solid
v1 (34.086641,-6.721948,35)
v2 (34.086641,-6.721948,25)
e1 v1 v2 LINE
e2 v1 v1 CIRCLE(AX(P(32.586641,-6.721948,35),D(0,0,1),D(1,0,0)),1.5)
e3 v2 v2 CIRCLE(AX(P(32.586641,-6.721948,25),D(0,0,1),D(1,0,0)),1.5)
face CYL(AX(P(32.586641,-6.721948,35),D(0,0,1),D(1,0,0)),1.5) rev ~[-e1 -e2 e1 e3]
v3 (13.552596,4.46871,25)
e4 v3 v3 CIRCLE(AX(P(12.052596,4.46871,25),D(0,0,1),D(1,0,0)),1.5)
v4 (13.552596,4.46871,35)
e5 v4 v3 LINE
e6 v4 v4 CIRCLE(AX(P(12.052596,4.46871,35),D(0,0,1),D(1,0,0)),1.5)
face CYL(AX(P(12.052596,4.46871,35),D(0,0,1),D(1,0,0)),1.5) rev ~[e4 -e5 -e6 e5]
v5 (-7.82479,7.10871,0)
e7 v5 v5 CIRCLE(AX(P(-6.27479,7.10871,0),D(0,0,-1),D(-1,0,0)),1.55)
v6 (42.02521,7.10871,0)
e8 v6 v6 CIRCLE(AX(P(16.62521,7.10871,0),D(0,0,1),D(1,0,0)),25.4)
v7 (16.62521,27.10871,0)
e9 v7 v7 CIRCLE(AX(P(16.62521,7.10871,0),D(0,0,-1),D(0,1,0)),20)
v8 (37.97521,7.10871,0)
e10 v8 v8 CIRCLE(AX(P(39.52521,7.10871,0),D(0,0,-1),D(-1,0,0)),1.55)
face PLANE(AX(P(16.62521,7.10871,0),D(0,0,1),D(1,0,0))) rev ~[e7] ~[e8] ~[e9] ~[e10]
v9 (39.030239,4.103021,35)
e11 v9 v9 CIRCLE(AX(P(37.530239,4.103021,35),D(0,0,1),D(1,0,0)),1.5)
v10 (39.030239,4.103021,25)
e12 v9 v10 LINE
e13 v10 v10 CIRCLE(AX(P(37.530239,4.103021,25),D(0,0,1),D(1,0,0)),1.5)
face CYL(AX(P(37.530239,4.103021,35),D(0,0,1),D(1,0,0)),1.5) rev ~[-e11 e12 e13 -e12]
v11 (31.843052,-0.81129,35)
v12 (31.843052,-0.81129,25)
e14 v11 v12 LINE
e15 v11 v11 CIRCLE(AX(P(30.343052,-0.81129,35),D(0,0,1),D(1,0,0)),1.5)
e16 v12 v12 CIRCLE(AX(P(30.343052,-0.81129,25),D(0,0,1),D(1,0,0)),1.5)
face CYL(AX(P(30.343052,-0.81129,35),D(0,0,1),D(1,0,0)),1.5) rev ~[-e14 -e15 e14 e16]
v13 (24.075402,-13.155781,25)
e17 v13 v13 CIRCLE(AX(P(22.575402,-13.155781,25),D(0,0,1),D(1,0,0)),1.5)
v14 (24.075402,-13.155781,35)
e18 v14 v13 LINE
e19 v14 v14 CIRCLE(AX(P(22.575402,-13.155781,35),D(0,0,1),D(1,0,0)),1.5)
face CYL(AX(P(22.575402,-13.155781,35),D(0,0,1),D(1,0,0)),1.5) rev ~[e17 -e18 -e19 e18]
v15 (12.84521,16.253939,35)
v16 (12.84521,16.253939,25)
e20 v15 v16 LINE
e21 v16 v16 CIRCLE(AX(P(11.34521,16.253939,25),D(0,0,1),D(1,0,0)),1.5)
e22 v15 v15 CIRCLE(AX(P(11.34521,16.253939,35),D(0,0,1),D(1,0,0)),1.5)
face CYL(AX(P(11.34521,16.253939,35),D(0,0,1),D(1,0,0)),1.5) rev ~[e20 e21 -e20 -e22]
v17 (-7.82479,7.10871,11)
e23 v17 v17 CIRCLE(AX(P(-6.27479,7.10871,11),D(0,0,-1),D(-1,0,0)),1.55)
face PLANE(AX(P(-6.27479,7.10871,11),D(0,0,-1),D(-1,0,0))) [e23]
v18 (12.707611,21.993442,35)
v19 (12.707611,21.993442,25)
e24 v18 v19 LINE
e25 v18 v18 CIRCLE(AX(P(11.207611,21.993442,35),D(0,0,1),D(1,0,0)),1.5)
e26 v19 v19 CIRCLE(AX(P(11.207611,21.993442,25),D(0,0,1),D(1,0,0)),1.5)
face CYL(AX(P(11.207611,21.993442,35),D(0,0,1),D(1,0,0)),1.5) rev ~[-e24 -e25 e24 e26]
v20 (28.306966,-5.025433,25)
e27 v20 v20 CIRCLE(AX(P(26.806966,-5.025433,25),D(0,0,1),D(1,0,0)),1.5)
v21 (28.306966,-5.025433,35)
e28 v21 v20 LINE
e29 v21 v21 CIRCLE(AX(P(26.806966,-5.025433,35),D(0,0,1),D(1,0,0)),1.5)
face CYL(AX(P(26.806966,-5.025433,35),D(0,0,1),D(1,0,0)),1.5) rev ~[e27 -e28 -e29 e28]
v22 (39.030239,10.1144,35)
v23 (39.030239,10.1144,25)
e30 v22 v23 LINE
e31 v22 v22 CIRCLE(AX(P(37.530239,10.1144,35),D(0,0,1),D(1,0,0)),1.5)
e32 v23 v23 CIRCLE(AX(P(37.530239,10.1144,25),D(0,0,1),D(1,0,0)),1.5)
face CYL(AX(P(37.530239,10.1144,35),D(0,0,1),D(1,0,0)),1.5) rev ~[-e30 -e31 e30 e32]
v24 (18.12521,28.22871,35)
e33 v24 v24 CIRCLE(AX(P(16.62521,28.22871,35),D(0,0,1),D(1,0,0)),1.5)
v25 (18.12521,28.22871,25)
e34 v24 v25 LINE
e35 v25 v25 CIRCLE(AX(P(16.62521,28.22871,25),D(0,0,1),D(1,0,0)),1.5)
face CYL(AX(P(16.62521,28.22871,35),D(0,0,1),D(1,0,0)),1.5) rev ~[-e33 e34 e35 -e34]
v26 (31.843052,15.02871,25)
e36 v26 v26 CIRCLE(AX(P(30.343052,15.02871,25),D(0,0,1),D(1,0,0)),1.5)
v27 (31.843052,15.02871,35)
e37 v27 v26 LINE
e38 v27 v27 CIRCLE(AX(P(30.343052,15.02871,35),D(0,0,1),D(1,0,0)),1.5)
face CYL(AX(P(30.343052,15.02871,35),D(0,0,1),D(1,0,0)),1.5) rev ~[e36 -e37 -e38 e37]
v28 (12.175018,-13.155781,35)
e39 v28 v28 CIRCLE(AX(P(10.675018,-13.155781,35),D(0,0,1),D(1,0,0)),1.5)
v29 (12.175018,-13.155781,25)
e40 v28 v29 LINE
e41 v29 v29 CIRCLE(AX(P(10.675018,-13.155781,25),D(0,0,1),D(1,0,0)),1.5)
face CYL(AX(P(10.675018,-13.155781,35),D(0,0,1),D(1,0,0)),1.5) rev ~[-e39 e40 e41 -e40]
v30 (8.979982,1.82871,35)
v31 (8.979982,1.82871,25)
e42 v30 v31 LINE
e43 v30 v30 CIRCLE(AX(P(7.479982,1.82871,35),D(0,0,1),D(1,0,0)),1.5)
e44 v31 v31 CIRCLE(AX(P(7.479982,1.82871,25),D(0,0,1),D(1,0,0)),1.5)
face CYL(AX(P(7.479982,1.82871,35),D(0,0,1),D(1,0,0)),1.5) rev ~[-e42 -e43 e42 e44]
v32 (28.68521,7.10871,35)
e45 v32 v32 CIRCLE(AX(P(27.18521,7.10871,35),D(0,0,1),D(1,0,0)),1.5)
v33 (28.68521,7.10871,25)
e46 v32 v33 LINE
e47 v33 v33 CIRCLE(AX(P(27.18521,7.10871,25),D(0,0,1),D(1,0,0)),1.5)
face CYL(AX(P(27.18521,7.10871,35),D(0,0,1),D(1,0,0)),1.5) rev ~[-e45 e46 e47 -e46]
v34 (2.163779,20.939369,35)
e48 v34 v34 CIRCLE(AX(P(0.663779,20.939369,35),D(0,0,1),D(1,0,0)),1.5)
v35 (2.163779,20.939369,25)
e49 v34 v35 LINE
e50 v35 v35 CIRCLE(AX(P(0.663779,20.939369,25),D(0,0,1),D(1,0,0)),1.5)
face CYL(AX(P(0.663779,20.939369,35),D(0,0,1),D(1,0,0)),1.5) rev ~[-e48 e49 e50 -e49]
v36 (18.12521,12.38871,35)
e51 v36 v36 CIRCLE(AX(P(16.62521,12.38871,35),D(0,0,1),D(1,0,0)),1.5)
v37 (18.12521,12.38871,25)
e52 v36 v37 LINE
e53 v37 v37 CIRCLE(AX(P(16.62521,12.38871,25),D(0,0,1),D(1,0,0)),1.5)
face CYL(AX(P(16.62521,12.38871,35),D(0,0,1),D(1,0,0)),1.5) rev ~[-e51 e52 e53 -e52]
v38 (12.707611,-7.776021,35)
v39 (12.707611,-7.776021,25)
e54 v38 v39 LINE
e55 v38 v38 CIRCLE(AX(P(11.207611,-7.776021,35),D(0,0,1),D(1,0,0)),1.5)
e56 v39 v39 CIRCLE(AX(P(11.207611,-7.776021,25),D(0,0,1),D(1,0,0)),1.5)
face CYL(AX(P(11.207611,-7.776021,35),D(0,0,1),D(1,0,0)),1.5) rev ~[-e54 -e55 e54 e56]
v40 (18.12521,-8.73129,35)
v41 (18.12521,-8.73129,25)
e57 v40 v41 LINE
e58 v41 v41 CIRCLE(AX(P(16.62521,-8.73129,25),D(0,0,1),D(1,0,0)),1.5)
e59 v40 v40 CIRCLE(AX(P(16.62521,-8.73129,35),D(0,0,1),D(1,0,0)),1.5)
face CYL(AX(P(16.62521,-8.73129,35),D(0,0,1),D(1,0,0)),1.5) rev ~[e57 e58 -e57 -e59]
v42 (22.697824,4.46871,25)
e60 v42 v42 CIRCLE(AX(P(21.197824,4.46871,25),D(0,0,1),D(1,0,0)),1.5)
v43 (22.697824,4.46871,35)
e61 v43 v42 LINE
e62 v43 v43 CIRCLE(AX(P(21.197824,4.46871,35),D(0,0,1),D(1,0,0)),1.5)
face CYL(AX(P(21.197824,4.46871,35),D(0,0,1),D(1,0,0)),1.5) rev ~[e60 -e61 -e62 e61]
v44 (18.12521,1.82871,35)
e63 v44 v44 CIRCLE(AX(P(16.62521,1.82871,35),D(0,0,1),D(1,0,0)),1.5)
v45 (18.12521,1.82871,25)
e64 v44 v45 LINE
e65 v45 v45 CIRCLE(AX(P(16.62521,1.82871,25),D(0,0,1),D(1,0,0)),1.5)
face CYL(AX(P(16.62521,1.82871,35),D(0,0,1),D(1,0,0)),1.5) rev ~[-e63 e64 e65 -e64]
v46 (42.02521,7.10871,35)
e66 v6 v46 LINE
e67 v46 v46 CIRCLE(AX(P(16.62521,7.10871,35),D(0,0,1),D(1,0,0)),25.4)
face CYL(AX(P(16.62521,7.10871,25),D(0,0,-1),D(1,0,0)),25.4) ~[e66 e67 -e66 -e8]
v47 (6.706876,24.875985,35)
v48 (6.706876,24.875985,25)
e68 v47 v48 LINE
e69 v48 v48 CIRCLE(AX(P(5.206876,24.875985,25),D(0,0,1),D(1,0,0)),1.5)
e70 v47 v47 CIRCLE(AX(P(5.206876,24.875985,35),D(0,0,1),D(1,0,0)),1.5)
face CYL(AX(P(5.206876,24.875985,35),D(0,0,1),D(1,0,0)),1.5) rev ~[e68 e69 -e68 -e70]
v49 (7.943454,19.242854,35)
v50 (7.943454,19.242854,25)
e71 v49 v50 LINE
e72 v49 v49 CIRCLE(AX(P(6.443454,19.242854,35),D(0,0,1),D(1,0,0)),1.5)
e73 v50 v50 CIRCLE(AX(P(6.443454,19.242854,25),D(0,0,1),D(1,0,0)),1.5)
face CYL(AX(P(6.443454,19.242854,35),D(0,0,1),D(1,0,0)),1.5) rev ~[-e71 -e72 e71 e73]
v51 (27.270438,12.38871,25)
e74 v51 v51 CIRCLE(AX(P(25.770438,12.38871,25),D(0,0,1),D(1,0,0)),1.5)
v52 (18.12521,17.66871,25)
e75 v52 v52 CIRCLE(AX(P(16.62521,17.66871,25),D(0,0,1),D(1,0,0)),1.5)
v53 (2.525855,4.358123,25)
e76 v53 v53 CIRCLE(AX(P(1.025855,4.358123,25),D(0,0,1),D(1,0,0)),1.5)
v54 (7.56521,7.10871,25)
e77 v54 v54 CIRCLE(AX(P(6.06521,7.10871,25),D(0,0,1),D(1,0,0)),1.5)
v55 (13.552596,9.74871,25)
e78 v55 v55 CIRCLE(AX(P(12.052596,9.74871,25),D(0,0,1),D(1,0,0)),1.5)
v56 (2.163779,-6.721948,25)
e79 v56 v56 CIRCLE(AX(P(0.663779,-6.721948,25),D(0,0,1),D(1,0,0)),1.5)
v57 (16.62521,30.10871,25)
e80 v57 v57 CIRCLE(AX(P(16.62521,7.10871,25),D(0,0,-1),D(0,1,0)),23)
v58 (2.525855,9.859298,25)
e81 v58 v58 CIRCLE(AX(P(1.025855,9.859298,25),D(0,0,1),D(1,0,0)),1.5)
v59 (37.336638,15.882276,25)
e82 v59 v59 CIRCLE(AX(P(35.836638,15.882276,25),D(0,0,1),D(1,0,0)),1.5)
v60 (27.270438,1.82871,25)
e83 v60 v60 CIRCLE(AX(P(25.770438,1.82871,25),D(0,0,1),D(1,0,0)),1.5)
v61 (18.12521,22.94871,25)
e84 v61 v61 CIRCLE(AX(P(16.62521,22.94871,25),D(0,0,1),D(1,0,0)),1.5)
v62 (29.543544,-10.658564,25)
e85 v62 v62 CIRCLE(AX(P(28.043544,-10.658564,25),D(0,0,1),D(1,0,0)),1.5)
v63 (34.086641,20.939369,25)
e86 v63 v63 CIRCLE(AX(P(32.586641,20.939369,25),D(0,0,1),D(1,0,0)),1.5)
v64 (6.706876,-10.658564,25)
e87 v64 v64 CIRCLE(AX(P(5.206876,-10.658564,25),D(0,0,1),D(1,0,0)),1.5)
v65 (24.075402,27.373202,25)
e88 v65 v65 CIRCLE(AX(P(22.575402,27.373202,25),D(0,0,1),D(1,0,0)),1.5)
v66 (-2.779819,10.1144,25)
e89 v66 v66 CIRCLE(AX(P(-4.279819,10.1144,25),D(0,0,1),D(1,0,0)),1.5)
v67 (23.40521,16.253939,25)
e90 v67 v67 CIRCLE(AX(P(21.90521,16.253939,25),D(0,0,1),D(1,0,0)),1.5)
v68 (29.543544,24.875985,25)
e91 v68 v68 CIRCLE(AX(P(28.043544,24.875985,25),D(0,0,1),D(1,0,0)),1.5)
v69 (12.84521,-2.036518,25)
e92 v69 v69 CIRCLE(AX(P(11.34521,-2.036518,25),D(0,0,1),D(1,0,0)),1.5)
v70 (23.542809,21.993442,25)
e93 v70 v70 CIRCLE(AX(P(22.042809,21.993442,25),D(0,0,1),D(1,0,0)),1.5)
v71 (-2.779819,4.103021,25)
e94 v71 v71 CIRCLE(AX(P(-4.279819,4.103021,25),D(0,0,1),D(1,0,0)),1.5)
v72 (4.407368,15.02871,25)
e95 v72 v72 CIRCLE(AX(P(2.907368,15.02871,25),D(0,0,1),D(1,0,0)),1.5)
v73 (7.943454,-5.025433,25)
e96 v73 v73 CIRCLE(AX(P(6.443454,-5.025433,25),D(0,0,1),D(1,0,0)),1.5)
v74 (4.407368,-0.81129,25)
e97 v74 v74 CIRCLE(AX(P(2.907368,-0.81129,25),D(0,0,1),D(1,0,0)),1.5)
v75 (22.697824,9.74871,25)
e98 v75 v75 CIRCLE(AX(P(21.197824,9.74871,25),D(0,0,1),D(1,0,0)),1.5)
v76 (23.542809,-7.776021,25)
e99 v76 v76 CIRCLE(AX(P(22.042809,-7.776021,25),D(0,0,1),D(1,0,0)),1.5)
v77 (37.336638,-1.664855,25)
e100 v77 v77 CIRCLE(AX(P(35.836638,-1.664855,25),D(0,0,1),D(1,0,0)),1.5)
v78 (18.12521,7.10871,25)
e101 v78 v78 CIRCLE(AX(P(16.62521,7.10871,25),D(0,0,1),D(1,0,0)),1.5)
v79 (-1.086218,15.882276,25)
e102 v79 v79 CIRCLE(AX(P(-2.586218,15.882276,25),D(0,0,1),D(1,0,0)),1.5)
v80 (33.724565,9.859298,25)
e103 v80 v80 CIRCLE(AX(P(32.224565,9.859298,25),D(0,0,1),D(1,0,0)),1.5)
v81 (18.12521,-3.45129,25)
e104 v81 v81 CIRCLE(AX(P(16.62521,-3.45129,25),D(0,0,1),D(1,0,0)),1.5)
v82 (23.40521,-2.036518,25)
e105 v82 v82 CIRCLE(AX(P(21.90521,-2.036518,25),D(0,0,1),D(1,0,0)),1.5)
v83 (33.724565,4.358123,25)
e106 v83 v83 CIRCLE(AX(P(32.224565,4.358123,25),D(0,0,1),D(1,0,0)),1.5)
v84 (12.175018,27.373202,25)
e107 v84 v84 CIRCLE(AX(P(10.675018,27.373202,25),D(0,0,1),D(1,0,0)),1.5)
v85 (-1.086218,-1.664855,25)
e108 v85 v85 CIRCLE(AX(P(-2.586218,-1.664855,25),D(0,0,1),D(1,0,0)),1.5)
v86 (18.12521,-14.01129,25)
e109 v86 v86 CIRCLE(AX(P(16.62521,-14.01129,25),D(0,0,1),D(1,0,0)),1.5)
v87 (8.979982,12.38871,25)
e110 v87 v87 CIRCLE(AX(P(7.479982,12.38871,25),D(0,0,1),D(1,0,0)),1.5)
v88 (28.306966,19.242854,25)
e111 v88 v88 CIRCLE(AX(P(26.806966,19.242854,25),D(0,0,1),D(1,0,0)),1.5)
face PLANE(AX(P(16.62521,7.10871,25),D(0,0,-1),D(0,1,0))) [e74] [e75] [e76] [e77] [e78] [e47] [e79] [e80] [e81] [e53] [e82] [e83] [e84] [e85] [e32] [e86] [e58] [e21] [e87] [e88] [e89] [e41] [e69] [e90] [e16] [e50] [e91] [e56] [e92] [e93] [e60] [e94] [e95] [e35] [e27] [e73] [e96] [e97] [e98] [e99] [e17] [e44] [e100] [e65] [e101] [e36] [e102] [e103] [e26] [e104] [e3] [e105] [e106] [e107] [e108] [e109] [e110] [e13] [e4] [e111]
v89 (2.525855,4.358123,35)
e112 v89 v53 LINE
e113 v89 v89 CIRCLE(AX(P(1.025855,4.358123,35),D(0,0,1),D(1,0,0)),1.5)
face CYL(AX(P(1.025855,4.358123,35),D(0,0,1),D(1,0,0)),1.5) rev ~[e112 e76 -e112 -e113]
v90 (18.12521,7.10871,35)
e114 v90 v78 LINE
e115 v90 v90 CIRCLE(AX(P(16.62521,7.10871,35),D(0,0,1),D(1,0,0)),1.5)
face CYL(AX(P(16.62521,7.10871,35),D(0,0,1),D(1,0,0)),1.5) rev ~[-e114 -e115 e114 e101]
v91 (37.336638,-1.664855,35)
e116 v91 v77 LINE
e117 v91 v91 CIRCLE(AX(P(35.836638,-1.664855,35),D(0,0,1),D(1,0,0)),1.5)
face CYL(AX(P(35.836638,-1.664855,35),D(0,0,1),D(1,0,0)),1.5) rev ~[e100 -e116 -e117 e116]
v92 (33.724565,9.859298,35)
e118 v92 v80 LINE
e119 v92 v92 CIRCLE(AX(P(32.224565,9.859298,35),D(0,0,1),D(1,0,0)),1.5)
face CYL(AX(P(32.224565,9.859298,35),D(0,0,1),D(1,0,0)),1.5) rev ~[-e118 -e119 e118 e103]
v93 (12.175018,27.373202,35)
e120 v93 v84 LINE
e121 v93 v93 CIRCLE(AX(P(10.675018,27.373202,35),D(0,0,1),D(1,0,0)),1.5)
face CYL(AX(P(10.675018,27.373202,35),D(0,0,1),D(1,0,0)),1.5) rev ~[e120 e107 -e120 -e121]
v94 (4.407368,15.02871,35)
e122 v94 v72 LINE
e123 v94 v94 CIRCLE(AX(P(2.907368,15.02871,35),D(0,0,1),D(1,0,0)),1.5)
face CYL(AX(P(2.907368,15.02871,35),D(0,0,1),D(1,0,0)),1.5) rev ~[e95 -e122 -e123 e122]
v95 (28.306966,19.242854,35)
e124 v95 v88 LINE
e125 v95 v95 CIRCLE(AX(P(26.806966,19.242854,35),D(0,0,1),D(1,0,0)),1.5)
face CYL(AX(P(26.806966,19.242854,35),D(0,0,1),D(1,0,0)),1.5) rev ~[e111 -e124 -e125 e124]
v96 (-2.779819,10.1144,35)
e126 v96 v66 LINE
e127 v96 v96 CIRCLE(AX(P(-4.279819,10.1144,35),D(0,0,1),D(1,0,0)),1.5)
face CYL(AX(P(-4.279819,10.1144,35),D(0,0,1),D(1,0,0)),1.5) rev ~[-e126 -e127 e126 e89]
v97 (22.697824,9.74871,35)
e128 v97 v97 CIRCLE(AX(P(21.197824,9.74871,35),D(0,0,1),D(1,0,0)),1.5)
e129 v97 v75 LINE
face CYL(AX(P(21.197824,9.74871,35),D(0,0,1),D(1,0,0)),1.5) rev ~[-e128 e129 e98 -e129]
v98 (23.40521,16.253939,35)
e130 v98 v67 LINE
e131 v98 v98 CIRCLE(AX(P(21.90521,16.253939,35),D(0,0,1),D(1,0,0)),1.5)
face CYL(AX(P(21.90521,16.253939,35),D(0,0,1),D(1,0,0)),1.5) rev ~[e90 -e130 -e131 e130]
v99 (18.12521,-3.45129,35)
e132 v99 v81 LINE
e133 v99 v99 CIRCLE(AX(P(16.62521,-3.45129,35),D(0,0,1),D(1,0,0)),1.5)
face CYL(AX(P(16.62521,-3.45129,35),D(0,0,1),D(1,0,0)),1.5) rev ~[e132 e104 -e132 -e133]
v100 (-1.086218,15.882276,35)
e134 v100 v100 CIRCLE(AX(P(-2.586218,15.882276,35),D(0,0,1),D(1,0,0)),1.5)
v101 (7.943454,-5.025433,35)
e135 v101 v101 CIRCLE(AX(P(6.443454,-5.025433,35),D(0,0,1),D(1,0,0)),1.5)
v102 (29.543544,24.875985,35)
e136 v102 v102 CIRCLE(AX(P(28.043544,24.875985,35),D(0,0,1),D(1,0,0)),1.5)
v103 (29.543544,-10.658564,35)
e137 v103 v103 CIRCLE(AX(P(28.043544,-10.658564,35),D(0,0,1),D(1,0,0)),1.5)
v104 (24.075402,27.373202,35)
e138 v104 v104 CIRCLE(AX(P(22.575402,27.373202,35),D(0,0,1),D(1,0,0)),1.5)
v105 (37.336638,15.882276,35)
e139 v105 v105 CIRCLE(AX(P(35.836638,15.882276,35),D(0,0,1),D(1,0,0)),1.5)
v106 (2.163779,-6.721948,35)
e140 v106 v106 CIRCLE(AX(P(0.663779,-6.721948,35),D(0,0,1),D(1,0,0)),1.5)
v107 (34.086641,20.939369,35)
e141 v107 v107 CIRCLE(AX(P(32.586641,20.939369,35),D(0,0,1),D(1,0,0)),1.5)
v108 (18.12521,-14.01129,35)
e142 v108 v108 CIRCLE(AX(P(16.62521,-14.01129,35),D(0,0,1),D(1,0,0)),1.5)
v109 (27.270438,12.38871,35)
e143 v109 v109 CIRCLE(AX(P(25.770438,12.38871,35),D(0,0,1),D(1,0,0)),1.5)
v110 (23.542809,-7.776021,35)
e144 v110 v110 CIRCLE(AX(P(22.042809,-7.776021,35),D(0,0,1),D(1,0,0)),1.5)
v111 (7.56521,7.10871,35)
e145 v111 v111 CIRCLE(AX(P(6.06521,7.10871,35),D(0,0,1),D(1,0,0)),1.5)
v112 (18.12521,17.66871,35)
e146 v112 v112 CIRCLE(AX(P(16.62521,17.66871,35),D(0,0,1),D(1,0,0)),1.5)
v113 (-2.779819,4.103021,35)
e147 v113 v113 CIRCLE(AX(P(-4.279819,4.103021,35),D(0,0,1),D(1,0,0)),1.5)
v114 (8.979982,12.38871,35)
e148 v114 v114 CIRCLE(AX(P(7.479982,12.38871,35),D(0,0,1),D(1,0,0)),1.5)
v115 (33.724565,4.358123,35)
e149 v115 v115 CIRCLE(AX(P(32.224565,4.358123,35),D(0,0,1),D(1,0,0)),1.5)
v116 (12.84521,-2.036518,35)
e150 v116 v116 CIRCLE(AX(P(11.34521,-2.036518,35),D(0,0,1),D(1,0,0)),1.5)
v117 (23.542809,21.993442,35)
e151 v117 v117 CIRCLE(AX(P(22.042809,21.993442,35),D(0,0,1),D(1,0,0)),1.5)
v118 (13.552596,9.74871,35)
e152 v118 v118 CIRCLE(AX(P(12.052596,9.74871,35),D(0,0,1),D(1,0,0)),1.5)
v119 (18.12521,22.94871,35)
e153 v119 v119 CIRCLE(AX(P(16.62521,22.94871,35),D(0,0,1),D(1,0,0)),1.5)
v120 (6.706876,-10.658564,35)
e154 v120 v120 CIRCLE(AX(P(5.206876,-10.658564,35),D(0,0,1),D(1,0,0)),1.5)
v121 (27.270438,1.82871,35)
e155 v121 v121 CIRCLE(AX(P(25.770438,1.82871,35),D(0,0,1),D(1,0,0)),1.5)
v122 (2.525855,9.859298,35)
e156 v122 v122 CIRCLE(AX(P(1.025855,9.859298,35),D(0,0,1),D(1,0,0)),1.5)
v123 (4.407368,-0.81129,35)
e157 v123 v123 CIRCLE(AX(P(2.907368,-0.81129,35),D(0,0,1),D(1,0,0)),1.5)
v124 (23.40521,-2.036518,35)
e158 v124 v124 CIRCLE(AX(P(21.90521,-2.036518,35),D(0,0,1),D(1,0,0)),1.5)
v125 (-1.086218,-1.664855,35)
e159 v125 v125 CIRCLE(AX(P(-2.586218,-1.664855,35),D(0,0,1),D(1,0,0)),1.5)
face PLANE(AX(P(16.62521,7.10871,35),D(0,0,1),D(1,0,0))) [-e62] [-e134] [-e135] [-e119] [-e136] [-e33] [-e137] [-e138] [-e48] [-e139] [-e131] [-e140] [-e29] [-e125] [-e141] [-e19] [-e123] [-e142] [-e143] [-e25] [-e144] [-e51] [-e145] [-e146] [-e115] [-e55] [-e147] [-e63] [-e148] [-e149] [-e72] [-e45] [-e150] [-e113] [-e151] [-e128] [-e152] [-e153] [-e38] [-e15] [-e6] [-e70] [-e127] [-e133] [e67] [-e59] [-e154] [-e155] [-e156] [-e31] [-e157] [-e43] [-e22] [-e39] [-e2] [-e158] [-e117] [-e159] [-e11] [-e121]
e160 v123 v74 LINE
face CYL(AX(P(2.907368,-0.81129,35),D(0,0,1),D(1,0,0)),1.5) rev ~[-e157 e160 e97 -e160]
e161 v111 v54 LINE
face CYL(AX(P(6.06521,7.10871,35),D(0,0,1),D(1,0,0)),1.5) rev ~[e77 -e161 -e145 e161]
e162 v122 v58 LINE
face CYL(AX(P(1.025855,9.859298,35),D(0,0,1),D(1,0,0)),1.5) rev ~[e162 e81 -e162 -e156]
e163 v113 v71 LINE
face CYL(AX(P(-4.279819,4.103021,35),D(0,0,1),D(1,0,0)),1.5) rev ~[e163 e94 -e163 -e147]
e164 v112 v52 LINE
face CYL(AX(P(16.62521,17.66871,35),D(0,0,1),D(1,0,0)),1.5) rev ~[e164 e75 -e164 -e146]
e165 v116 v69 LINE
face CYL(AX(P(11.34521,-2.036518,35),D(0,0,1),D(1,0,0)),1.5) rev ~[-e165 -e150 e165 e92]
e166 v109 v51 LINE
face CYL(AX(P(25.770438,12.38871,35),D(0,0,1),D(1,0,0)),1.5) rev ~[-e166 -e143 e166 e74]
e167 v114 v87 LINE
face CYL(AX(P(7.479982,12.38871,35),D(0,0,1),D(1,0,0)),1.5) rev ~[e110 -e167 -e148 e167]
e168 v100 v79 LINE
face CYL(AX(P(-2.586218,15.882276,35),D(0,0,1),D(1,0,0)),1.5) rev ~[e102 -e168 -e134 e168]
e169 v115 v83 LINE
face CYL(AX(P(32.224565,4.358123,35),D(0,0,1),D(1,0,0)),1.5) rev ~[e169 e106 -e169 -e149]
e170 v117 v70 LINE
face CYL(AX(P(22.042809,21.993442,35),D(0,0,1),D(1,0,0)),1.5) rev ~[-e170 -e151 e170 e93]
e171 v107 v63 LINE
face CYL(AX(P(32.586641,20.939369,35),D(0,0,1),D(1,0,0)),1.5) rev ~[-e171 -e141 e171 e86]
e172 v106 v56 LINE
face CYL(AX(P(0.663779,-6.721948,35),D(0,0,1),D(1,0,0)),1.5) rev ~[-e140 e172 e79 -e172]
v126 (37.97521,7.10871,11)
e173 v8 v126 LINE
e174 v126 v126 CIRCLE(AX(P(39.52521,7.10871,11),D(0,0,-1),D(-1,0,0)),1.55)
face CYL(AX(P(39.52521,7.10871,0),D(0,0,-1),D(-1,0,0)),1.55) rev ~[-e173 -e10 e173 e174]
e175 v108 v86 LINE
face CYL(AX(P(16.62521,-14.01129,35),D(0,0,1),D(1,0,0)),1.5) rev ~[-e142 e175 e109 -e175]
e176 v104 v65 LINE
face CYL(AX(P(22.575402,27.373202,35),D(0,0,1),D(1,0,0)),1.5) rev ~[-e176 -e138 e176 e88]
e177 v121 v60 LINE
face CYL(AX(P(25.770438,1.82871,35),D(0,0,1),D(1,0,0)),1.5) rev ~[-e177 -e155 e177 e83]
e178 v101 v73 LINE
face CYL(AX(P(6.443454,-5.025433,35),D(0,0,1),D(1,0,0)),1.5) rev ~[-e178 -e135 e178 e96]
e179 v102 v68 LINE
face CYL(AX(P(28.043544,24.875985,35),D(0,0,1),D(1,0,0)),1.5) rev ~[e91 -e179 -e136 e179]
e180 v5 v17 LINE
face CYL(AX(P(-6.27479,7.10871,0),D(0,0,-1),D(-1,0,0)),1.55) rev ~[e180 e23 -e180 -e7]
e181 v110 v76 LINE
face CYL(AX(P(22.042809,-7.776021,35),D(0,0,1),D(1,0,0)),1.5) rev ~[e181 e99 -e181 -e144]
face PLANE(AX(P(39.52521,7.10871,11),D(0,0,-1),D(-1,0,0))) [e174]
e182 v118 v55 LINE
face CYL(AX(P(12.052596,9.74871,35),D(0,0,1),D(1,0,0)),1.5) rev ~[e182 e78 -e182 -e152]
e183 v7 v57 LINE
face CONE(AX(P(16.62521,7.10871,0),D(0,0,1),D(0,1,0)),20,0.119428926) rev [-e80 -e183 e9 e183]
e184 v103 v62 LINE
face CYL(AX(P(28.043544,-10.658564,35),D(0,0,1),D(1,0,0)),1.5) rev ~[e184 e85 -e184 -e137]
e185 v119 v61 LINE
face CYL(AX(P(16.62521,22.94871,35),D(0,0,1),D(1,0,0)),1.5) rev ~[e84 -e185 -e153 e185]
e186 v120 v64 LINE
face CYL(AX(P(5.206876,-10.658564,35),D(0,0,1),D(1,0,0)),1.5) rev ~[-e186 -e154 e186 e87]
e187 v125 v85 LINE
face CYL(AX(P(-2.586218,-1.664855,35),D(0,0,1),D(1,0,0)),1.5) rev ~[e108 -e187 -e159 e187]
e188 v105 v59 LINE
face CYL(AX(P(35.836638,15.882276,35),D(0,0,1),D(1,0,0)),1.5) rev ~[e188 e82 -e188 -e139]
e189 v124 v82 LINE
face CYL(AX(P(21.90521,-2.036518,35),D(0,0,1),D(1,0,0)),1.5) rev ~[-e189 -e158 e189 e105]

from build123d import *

# Parameters (mm, degrees)
ESQUISSE1_R             = 25.4
BOSS_EXTRU_1_DEPTH      = 25
ESQUISSE6_R             = 1.55
ENL_V_MAT_EXTRU_4_DEPTH = 11
ESQUISSE8_R             = 25.4
BOSS_EXTRU_3_DEPTH      = 10
ESQUISSE9_R             = 1.5
ENL_V_MAT_EXTRU_5_DEPTH = 10


with BuildPart() as part:
    # Esquisse1 → Boss.-Extru.1 (new body)
    with BuildSketch(Plane.XY):
        with Locations((16.625210007, 7.108710486)):
            Circle(ESQUISSE1_R)
    extrude(amount=BOSS_EXTRU_1_DEPTH)

    # Esquisse6 → Enlèv. mat.-Extru.4 (cut)
    with BuildSketch(Plane(origin=(0, 0, 0), x_dir=(-1, 0, 0), z_dir=(0, 0, -1))):
        with Locations((-39.525210007, 7.108710486)):
            Circle(ESQUISSE6_R)
        with Locations((6.274789993, 7.108710486)):
            Circle(ESQUISSE6_R)
    extrude(amount=-ENL_V_MAT_EXTRU_4_DEPTH, mode=Mode.SUBTRACT)

    # Esquisse8 → Boss.-Extru.3 (add)
    with BuildSketch(Plane.XY.offset(25)):
        with Locations((16.625210007, 7.108710486)):
            Circle(ESQUISSE8_R)
    extrude(amount=BOSS_EXTRU_3_DEPTH)

    # Esquisse9 → Enlèv. mat.-Extru.5 (cut)
    with BuildSketch(Plane.XY.offset(35)):
        with Locations((16.625210007, 7.108710486)):
            Circle(ESQUISSE9_R)
        with Locations((16.625210007, 12.388710486)):
            Circle(ESQUISSE9_R)
        with Locations((21.197824139, 9.748710486)):
            Circle(ESQUISSE9_R)
        with Locations((21.197824139, 4.468710486)):
            Circle(ESQUISSE9_R)
        with Locations((16.625210007, 1.828710486)):
            Circle(ESQUISSE9_R)
        with Locations((12.052595875, 4.468710486)):
            Circle(ESQUISSE9_R)
        with Locations((12.052595875, 9.748710486)):
            Circle(ESQUISSE9_R)
        with Locations((16.625210007, 17.668710486)):
            Circle(ESQUISSE9_R)
        with Locations((21.905210007, 16.25393875)):
            Circle(ESQUISSE9_R)
        with Locations((25.770438271, 12.388710486)):
            Circle(ESQUISSE9_R)
        with Locations((27.185210007, 7.108710486)):
            Circle(ESQUISSE9_R)
        with Locations((25.770438271, 1.828710486)):
            Circle(ESQUISSE9_R)
        with Locations((21.905210007, -2.036517778)):
            Circle(ESQUISSE9_R)
        with Locations((16.625210007, -3.451289514)):
            Circle(ESQUISSE9_R)
        with Locations((11.345210007, -2.036517778)):
            Circle(ESQUISSE9_R)
        with Locations((7.479981743, 1.828710486)):
            Circle(ESQUISSE9_R)
        with Locations((6.065210007, 7.108710486)):
            Circle(ESQUISSE9_R)
        with Locations((7.479981743, 12.388710486)):
            Circle(ESQUISSE9_R)
        with Locations((11.345210007, 16.25393875)):
            Circle(ESQUISSE9_R)
        with Locations((16.625210007, 22.948710486)):
            Circle(ESQUISSE9_R)
        with Locations((22.042809078, 21.993441599)):
            Circle(ESQUISSE9_R)
        with Locations((26.806965745, 19.242854465)):
            Circle(ESQUISSE9_R)
        with Locations((30.343052403, 15.028710486)):
            Circle(ESQUISSE9_R)
        with Locations((32.224564815, 9.85929762)):
            Circle(ESQUISSE9_R)
        with Locations((32.224564815, 4.358123352)):
            Circle(ESQUISSE9_R)
        with Locations((30.343052403, -0.811289514)):
            Circle(ESQUISSE9_R)
        with Locations((26.806965745, -5.025433493)):
            Circle(ESQUISSE9_R)
        with Locations((22.042809078, -7.776020627)):
            Circle(ESQUISSE9_R)
        with Locations((16.625210007, -8.731289514)):
            Circle(ESQUISSE9_R)
        with Locations((11.207610937, -7.776020627)):
            Circle(ESQUISSE9_R)
        with Locations((6.44345427, -5.025433493)):
            Circle(ESQUISSE9_R)
        with Locations((2.907367612, -0.811289514)):
            Circle(ESQUISSE9_R)
        with Locations((1.0258552, 4.358123352)):
            Circle(ESQUISSE9_R)
        with Locations((1.0258552, 9.85929762)):
            Circle(ESQUISSE9_R)
        with Locations((2.907367612, 15.028710486)):
            Circle(ESQUISSE9_R)
        with Locations((6.44345427, 19.242854465)):
            Circle(ESQUISSE9_R)
        with Locations((11.207610937, 21.993441599)):
            Circle(ESQUISSE9_R)
        with Locations((16.625210007, 28.228710486)):
            Circle(ESQUISSE9_R)
        with Locations((22.575401608, 27.373202089)):
            Circle(ESQUISSE9_R)
        with Locations((28.043544072, 24.875985099)):
            Circle(ESQUISSE9_R)
        with Locations((32.586641018, 20.939369187)):
            Circle(ESQUISSE9_R)
        with Locations((35.836637749, 15.882275561)):
            Circle(ESQUISSE9_R)
        with Locations((37.53023886, 10.11439987)):
            Circle(ESQUISSE9_R)
        with Locations((37.53023886, 4.103021102)):
            Circle(ESQUISSE9_R)
        with Locations((35.836637749, -1.664854589)):
            Circle(ESQUISSE9_R)
        with Locations((32.586641018, -6.721948215)):
            Circle(ESQUISSE9_R)
        with Locations((28.043544072, -10.658564127)):
            Circle(ESQUISSE9_R)
        with Locations((22.575401608, -13.155781117)):
            Circle(ESQUISSE9_R)
        with Locations((16.625210007, -14.011289514)):
            Circle(ESQUISSE9_R)
        with Locations((10.675018407, -13.155781117)):
            Circle(ESQUISSE9_R)
        with Locations((5.206875943, -10.658564127)):
            Circle(ESQUISSE9_R)
        with Locations((0.663778997, -6.721948215)):
            Circle(ESQUISSE9_R)
        with Locations((-2.586217734, -1.664854589)):
            Circle(ESQUISSE9_R)
        with Locations((-4.279818845, 4.103021102)):
            Circle(ESQUISSE9_R)
        with Locations((-4.279818845, 10.11439987)):
            Circle(ESQUISSE9_R)
        with Locations((-2.586217734, 15.882275561)):
            Circle(ESQUISSE9_R)
        with Locations((0.663778997, 20.939369187)):
            Circle(ESQUISSE9_R)
        with Locations((5.206875943, 24.875985099)):
            Circle(ESQUISSE9_R)
        with Locations((10.675018407, 27.373202089)):
            Circle(ESQUISSE9_R)
    extrude(amount=-ENL_V_MAT_EXTRU_5_DEPTH, mode=Mode.SUBTRACT)

    # Esquisse12 → Enlèvement de matière-Révolution1 (revolve, cut)
    with BuildSketch(Plane(origin=(16.625210007, 0, 0), x_dir=(0, 0, -1), z_dir=(1, 0, 0))):
        Polygon((0, 7.108710486), (0, 27.108710486), (-25, 30.108710486), (-25, 7.108710486), align=None)
    revolve(axis=Axis((16.625210007, 7.108710486, 25), (0, 0, -1)), mode=Mode.SUBTRACT)


solid = part.part
